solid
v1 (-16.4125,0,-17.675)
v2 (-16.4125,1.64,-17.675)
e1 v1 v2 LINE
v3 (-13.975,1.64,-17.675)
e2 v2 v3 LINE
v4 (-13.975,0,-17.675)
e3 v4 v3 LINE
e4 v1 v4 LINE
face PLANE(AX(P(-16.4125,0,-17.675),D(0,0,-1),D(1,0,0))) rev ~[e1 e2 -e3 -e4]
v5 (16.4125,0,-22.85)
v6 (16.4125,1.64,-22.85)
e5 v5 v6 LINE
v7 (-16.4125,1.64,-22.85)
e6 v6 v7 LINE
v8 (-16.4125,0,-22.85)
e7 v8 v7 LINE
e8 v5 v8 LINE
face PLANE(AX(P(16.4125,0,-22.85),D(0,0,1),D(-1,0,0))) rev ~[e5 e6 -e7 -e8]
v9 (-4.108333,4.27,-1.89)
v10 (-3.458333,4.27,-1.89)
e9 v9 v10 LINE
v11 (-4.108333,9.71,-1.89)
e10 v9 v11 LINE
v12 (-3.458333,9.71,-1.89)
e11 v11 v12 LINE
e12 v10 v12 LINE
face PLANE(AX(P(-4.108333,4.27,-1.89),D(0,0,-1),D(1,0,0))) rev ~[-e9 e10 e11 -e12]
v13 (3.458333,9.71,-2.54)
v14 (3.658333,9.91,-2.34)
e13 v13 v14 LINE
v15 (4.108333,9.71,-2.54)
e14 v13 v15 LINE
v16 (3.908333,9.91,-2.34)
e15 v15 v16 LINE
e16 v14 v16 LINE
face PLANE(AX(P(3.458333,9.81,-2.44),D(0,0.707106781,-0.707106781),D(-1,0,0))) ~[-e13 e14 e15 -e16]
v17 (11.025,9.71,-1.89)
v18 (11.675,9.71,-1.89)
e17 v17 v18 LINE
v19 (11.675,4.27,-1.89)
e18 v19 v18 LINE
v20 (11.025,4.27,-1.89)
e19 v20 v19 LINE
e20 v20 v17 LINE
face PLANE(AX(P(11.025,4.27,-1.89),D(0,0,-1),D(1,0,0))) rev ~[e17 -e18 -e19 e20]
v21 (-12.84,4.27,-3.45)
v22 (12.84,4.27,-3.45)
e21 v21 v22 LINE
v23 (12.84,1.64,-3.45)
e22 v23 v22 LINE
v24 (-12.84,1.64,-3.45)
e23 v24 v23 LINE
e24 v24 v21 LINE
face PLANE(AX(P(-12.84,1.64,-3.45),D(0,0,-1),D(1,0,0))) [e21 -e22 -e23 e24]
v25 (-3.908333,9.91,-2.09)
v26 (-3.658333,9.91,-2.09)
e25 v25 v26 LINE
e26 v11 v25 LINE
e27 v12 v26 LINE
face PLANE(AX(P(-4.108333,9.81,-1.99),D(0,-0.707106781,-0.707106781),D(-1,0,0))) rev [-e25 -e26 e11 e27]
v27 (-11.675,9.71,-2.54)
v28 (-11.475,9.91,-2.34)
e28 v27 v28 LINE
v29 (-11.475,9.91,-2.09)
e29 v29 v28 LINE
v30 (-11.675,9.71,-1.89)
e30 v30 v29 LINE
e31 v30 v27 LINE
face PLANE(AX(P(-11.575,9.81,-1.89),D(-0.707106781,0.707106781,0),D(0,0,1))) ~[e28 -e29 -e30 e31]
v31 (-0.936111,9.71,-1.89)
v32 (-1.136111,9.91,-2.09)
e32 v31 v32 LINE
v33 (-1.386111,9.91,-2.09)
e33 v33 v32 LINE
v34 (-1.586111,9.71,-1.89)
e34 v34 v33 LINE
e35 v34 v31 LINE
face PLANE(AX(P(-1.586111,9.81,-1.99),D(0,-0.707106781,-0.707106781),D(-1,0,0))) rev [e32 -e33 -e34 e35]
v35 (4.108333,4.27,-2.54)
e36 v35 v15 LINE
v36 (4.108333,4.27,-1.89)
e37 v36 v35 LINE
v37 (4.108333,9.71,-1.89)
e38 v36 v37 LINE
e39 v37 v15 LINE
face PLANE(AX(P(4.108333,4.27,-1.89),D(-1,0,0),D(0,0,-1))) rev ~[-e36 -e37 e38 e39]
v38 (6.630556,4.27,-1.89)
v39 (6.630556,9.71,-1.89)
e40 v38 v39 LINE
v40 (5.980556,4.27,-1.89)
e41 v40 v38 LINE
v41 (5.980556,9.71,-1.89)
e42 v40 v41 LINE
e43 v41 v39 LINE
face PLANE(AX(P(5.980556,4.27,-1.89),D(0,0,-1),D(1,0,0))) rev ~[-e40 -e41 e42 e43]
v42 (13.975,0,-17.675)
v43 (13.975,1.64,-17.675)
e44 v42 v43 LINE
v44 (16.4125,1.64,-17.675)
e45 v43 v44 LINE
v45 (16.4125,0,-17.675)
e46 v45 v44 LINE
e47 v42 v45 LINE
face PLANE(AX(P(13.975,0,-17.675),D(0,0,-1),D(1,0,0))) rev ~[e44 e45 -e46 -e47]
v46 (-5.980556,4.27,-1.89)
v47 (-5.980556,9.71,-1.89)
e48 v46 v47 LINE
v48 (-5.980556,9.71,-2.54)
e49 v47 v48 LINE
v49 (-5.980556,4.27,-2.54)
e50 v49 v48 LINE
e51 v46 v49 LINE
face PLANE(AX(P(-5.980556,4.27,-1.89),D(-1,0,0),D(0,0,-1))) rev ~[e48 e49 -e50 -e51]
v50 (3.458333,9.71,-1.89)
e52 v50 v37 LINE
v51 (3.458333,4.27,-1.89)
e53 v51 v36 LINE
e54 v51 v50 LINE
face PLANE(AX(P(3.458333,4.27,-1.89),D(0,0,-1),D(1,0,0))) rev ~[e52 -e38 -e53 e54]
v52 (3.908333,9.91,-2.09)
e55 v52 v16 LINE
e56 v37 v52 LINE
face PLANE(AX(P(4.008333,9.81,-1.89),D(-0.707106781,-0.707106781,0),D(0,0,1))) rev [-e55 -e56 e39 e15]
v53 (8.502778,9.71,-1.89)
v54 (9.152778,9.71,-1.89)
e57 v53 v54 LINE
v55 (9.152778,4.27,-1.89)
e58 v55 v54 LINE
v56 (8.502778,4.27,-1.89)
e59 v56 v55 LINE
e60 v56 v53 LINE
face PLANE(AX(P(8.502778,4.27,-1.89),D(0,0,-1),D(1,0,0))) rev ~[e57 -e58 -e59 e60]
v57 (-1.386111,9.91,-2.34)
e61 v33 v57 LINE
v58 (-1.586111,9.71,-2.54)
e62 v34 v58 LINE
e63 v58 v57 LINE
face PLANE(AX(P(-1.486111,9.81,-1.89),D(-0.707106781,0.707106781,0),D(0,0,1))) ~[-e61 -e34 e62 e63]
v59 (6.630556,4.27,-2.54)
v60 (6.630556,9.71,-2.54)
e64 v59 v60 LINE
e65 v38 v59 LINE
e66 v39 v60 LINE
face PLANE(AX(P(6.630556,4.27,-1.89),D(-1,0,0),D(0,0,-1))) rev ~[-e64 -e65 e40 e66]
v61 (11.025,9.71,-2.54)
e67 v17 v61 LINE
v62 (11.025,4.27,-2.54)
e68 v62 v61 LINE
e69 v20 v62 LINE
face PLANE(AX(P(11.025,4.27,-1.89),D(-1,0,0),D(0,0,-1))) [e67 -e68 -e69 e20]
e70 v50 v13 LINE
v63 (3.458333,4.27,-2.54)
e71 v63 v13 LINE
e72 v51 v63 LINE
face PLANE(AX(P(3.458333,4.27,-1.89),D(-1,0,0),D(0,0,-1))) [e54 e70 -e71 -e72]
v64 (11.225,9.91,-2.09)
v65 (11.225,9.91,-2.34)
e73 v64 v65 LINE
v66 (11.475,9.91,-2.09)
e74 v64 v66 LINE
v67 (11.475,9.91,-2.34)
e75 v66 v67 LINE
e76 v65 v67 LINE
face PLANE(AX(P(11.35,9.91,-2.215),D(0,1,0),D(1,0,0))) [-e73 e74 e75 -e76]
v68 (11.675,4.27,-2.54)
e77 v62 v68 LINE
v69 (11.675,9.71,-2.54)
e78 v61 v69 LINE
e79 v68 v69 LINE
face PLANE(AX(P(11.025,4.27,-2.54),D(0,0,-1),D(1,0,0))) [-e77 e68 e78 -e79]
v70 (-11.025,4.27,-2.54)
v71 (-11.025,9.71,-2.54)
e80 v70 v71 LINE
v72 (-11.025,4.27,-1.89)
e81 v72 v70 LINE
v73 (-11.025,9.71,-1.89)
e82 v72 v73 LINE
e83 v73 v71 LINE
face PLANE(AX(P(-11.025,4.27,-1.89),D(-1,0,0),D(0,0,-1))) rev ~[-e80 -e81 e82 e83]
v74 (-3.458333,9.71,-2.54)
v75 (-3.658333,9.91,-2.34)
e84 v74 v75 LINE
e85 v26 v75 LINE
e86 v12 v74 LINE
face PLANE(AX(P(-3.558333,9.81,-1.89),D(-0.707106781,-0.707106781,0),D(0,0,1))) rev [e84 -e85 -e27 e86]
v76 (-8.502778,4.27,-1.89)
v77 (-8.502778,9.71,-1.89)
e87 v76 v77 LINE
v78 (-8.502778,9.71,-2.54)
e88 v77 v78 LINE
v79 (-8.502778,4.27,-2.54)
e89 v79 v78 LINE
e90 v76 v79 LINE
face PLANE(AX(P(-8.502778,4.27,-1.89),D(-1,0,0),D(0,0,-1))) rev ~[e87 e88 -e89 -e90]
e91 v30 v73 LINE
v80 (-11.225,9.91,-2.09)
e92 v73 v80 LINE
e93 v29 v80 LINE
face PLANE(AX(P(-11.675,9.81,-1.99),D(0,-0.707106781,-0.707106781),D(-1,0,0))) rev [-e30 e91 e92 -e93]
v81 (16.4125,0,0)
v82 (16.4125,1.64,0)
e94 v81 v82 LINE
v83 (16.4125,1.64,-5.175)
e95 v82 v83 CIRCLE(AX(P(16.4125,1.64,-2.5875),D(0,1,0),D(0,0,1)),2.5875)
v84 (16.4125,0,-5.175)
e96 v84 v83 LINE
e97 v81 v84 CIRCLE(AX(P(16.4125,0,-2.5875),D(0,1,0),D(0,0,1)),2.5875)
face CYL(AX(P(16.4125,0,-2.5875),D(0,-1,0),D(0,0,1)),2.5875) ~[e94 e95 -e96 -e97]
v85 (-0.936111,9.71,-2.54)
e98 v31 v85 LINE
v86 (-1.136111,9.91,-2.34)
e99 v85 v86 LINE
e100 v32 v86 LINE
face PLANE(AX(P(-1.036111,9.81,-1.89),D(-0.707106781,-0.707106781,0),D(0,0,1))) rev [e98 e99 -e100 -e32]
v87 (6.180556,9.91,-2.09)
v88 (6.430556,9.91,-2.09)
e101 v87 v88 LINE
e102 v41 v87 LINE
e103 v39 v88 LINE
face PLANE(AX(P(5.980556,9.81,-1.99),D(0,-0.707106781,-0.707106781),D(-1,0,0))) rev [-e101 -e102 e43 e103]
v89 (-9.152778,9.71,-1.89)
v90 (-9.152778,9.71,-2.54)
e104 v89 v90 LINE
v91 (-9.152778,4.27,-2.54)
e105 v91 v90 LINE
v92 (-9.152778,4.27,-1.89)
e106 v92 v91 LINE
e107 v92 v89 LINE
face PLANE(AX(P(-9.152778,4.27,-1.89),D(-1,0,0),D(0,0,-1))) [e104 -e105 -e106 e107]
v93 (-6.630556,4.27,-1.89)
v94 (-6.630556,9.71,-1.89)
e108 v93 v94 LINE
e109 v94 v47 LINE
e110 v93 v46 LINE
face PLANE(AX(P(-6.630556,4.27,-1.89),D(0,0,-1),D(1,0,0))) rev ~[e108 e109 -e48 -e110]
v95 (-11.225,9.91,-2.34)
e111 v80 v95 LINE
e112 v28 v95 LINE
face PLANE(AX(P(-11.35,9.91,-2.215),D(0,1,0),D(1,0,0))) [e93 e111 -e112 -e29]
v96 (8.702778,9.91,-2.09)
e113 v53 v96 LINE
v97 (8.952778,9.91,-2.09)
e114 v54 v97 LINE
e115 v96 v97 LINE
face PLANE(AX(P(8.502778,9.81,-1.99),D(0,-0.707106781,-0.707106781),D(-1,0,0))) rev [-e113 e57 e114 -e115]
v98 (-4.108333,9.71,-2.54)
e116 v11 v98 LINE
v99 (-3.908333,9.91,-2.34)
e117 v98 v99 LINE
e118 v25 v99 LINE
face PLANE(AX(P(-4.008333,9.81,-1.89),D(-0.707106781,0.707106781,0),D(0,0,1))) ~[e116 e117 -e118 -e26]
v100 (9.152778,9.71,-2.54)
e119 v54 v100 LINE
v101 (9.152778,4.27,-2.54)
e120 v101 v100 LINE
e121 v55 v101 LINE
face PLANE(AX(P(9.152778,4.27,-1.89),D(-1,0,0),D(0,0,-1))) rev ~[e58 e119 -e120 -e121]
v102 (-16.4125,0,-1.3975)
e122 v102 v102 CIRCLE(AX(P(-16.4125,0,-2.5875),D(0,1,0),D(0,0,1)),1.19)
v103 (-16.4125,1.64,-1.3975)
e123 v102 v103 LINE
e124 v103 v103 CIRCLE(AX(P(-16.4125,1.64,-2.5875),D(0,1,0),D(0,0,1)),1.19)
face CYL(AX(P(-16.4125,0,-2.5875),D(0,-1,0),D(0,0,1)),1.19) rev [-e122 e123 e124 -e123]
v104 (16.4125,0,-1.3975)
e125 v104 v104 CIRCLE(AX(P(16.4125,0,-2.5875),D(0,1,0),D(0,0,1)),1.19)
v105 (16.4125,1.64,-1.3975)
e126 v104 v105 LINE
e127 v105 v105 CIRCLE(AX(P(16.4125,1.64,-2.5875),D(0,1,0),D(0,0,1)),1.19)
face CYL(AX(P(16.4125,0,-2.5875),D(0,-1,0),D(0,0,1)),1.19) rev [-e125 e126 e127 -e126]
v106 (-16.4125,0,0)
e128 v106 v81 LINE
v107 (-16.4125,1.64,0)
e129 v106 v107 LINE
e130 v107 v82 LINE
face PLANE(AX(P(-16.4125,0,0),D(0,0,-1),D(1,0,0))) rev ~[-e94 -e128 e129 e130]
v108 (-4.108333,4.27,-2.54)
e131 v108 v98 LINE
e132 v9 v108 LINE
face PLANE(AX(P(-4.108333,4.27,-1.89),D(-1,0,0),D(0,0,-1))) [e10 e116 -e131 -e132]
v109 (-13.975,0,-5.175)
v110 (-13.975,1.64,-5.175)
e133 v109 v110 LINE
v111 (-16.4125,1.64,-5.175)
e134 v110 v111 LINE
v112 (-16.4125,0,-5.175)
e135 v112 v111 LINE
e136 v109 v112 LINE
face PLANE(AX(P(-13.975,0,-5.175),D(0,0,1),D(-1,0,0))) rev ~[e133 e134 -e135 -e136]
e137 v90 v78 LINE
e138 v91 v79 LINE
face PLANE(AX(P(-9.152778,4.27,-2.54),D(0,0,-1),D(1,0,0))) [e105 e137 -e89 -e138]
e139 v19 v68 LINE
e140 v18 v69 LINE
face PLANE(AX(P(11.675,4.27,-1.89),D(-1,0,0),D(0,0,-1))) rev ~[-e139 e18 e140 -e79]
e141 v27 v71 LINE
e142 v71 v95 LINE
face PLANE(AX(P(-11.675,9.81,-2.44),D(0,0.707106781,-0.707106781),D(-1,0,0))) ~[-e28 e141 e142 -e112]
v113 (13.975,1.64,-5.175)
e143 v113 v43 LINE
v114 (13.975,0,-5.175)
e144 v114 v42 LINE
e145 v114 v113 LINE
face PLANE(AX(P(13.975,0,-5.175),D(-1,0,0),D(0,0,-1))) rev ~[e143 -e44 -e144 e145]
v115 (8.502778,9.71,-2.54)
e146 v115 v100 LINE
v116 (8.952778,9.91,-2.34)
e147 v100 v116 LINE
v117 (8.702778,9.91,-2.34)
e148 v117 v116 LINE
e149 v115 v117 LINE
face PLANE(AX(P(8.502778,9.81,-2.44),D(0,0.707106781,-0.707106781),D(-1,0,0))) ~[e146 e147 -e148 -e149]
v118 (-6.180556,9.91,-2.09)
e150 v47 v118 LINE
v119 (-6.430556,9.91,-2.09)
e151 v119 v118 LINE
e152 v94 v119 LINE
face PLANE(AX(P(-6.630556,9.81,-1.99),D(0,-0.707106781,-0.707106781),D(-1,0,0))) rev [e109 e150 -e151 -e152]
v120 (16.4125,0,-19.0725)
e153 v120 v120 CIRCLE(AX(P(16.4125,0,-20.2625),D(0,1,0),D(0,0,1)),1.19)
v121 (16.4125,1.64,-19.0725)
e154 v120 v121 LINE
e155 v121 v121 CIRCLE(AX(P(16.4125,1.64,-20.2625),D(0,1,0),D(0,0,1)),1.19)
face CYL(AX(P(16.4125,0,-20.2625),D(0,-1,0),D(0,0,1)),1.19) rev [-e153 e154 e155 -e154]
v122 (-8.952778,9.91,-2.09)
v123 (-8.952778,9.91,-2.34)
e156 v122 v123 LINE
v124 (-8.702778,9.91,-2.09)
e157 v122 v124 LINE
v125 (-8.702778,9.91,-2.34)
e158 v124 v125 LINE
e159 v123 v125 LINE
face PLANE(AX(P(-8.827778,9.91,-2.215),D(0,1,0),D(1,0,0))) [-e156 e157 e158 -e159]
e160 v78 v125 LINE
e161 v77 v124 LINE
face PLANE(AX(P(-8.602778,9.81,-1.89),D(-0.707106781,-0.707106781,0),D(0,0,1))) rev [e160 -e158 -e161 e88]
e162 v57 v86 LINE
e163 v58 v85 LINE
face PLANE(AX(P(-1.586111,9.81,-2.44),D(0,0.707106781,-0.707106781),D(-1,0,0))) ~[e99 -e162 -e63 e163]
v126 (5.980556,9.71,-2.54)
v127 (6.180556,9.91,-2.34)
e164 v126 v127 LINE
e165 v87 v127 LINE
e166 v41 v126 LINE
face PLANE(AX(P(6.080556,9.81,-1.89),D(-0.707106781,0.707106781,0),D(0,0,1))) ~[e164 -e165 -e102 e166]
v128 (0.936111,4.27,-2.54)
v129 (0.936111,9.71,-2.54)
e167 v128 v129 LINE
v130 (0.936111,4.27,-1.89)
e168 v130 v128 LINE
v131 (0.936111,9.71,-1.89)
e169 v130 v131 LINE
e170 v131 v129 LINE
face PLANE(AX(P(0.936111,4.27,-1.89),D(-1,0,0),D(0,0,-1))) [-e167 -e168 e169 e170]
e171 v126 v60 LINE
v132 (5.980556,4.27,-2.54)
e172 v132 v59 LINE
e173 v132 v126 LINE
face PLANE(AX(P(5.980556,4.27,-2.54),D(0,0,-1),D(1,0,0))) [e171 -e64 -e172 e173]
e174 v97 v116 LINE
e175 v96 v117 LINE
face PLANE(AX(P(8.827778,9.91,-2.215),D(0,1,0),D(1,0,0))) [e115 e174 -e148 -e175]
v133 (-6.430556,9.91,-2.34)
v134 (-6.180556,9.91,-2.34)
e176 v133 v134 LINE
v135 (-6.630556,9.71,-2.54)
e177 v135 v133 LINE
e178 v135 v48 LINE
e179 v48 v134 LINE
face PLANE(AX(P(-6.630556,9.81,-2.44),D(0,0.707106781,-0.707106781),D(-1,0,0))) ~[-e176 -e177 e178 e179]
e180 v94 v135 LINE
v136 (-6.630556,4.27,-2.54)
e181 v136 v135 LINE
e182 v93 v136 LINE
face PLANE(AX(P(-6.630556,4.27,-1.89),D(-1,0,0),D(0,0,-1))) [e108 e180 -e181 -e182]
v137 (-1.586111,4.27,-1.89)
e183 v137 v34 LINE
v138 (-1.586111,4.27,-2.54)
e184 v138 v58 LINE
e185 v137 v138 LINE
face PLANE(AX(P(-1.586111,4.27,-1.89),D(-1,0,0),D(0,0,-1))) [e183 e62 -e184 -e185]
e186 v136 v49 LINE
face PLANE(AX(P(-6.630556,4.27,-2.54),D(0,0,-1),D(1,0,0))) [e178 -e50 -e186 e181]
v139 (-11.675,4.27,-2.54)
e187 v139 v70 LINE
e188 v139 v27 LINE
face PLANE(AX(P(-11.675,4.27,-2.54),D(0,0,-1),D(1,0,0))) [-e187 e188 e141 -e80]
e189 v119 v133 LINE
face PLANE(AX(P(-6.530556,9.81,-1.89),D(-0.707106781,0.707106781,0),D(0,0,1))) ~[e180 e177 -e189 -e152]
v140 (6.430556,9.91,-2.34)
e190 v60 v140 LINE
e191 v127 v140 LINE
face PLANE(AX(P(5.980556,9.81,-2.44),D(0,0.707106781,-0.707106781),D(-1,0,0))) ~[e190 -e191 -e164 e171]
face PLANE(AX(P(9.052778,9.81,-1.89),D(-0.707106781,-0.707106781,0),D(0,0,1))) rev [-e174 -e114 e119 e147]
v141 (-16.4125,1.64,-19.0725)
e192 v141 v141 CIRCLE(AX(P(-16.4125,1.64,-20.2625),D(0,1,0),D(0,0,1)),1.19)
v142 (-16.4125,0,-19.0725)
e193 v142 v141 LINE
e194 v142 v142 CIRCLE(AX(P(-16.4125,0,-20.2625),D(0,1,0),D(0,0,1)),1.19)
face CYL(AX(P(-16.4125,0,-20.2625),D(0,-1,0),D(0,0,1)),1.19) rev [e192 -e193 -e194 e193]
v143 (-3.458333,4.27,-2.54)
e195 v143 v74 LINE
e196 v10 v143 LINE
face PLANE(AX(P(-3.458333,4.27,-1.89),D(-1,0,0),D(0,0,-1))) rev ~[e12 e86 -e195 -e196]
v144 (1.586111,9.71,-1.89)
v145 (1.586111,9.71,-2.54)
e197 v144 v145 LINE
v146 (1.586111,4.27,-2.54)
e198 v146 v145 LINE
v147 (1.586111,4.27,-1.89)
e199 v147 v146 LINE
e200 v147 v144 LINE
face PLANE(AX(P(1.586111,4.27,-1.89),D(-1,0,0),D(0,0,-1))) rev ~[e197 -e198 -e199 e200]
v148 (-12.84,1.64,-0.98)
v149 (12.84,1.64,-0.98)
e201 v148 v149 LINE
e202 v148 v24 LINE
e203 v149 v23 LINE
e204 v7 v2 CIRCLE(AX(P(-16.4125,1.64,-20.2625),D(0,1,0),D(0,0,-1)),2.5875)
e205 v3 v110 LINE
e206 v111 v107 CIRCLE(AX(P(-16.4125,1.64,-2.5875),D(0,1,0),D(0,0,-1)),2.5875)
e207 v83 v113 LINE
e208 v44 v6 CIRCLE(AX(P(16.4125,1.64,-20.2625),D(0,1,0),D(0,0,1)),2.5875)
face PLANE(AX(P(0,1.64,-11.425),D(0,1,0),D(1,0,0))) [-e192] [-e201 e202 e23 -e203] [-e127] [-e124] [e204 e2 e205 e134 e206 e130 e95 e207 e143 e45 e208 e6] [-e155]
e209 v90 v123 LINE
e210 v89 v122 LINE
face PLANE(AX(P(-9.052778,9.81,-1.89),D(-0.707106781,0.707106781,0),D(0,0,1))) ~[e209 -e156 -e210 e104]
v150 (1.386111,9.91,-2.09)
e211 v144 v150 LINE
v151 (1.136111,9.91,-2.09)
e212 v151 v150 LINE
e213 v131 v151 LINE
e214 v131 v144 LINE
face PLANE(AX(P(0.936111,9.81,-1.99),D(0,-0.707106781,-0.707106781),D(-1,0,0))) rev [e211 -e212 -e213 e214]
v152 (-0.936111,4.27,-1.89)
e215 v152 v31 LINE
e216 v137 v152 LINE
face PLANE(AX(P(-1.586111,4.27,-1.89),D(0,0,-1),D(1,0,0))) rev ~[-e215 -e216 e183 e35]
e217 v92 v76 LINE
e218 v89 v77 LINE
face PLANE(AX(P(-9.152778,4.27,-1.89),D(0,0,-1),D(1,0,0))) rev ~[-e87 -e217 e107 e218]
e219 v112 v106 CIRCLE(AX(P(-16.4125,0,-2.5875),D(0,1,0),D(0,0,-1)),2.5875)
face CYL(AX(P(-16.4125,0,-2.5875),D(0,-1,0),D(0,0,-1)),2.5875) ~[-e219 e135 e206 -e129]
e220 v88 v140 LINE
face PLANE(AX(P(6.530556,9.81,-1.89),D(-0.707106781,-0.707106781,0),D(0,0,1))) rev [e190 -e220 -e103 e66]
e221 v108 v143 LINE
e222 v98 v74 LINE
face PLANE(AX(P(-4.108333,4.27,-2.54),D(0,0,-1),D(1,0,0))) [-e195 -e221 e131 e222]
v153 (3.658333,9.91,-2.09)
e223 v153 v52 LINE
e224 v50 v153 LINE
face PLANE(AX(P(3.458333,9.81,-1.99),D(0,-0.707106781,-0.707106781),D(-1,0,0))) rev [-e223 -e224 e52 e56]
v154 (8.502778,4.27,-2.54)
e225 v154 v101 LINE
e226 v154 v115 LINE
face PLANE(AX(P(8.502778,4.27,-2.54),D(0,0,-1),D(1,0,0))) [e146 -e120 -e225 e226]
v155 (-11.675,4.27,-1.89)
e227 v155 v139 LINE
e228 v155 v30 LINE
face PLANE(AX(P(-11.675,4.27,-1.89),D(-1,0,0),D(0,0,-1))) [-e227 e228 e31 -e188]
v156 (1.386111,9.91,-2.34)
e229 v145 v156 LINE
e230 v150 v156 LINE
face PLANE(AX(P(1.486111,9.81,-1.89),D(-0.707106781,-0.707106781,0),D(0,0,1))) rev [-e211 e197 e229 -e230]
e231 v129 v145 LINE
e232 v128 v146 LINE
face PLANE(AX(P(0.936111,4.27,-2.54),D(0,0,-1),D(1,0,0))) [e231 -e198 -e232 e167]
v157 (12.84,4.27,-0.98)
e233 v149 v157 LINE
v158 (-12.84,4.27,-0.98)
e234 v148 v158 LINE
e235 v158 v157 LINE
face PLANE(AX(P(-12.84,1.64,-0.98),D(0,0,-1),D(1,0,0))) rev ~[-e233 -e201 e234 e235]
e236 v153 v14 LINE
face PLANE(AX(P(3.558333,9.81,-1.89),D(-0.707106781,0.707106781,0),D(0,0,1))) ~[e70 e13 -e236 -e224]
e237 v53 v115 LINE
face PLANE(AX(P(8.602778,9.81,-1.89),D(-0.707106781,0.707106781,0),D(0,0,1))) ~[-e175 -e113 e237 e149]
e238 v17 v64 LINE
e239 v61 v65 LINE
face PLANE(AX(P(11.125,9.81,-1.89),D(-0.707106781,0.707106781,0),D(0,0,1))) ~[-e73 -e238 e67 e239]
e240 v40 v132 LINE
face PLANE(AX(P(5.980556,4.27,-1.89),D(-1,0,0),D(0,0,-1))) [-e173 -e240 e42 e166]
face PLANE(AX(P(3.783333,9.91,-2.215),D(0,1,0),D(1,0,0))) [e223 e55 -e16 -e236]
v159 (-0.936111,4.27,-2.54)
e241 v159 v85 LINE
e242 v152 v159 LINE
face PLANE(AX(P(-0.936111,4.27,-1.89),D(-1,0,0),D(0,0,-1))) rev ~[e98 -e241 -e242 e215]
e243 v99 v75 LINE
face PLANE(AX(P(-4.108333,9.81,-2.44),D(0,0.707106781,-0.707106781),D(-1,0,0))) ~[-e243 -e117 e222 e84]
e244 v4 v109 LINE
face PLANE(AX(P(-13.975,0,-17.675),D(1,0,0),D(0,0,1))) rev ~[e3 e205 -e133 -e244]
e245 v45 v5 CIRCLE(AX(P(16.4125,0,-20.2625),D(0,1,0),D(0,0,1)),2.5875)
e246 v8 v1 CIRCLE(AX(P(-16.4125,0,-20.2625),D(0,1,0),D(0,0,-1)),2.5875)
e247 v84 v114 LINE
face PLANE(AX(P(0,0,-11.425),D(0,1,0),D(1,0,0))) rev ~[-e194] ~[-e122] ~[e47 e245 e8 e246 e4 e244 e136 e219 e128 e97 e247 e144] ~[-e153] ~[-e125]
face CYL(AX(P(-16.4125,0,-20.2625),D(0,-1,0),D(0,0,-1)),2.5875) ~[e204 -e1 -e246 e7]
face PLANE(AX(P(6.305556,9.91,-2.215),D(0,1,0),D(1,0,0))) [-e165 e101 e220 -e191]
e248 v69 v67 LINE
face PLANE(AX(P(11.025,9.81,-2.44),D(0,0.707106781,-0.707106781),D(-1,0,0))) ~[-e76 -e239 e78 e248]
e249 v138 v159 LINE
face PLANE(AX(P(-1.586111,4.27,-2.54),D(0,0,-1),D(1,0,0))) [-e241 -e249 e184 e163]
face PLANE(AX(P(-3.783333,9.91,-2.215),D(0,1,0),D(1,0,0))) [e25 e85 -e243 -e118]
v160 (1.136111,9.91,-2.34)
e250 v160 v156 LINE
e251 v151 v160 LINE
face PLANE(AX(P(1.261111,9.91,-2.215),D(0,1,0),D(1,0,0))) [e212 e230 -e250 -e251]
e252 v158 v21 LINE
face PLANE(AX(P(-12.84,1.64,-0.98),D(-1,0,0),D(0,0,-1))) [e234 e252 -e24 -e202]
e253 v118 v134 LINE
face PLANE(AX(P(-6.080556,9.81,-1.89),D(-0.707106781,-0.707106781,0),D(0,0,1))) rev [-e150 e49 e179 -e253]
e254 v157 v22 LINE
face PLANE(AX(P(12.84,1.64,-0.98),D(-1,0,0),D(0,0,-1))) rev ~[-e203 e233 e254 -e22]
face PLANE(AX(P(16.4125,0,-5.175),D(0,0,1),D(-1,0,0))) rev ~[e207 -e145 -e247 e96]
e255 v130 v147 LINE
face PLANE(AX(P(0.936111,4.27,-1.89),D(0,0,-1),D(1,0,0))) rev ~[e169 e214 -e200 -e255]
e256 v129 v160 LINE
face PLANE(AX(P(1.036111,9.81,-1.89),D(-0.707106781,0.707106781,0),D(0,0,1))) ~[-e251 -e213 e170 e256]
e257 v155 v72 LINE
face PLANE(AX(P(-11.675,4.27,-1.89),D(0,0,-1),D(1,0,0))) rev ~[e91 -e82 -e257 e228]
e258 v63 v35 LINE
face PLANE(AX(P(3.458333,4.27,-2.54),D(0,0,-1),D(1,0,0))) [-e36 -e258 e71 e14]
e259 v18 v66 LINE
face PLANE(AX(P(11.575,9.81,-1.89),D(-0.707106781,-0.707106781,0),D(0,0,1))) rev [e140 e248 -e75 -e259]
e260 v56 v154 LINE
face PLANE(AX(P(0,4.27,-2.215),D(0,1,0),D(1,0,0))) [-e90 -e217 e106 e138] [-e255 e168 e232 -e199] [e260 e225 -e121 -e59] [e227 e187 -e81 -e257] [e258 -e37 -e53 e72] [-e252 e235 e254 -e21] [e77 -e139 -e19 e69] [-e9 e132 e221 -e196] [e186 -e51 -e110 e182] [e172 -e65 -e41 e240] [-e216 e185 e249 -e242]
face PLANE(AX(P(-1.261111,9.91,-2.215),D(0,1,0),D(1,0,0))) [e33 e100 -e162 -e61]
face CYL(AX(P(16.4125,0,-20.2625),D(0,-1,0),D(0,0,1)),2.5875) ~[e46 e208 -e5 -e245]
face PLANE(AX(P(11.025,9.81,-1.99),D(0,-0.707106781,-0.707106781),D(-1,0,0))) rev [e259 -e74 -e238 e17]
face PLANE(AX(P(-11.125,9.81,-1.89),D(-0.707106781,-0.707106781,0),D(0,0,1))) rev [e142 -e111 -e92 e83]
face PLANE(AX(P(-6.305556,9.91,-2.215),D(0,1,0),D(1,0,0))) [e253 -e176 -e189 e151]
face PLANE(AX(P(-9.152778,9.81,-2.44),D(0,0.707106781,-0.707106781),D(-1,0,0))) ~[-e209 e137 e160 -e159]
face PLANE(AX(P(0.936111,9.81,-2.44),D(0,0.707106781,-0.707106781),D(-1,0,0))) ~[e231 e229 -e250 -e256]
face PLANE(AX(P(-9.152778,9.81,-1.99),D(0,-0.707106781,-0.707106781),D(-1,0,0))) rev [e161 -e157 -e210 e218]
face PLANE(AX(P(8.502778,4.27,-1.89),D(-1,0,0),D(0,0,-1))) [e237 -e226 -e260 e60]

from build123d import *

# Parameters (mm, degrees)
SKETCH1_R           = 1.19
BOSS_EXTRUDE1_DEPTH = 1.64
SKETCH2_W           = 25.68
SKETCH2_H           = 2.47
BOSS_EXTRUDE2_DEPTH = 2.63
SKETCH3_W           = 0.65
SKETCH3_H           = 0.65
BOSS_EXTRUDE3_DEPTH = 5.64
CHAMFER1_SIZE       = 0.2


with BuildPart() as part:
    # Sketch1 → Boss-Extrude1 (new body)
    with BuildSketch(Plane(origin=(0, 0, 0), x_dir=(1, 0, 0), z_dir=(0, 1, 0))):
        with BuildLine():
            Line((-16.4125, 0), (16.4125, 0))
            ThreePointArc((16.4125, 0), (19, 2.5875), (16.4125, 5.175))
            Line((16.4125, 5.175), (13.975, 5.175))
            Line((13.975, 5.175), (13.975, 17.675))
            Line((13.975, 17.675), (16.4125, 17.675))
            ThreePointArc((16.4125, 17.675), (19, 20.2625), (16.4125, 22.85))
            Line((16.4125, 22.85), (-16.4125, 22.85))
            ThreePointArc((-16.4125, 22.85), (-19, 20.2625), (-16.4125, 17.675))
            Line((-16.4125, 17.675), (-13.975, 17.675))
            Line((-13.975, 17.675), (-13.975, 5.175))
            Line((-13.975, 5.175), (-16.4125, 5.175))
            ThreePointArc((-16.4125, 5.175), (-19, 2.5875), (-16.4125, 0))
        make_face()
        with Locations(Location((16.4125, 20.2625, 0), (0, 0, 270))):
            Circle(SKETCH1_R, mode=Mode.SUBTRACT)
        with Locations(Location((-16.4125, 20.2625, 0), (0, 0, 270))):
            Circle(SKETCH1_R, mode=Mode.SUBTRACT)
        with Locations(Location((-16.4125, 2.5875, 0), (0, 0, 270))):
            Circle(SKETCH1_R, mode=Mode.SUBTRACT)
        with Locations(Location((16.4125, 2.5875, 0), (0, 0, 270))):
            Circle(SKETCH1_R, mode=Mode.SUBTRACT)
    extrude(amount=BOSS_EXTRUDE1_DEPTH)

    # Sketch2 → Boss-Extrude2 (add)
    with BuildSketch(Plane(origin=(0, 1.64, 0), x_dir=(1, 0, 0), z_dir=(0, 1, 0))):
        with Locations((0, 2.215)):
            Rectangle(SKETCH2_W, SKETCH2_H)
    extrude(amount=BOSS_EXTRUDE2_DEPTH)

    # Sketch3 → Boss-Extrude3 (add)
    with BuildSketch(Plane(origin=(0, 4.27, 0), x_dir=(1, 0, 0), z_dir=(0, 1, 0))):
        with Locations((11.35, 2.215)):
            Rectangle(SKETCH3_W, SKETCH3_H)
        with Locations((8.827777778, 2.215)):
            Rectangle(SKETCH3_W, SKETCH3_H)
        with Locations((6.305555556, 2.215)):
            Rectangle(SKETCH3_W, SKETCH3_H)
        with Locations((3.783333333, 2.215)):
            Rectangle(SKETCH3_W, SKETCH3_H)
        with Locations((1.261111111, 2.215)):
            Rectangle(SKETCH3_W, SKETCH3_H)
        with Locations((-1.261111111, 2.215)):
            Rectangle(SKETCH3_W, SKETCH3_H)
        with Locations((-3.783333333, 2.215)):
            Rectangle(SKETCH3_W, SKETCH3_H)
        with Locations((-6.305555556, 2.215)):
            Rectangle(SKETCH3_W, SKETCH3_H)
        with Locations((-8.827777778, 2.215)):
            Rectangle(SKETCH3_W, SKETCH3_H)
        with Locations((-11.35, 2.215)):
            Rectangle(SKETCH3_W, SKETCH3_H)
    extrude(amount=BOSS_EXTRUDE3_DEPTH)

    # Chamfer1
    chamfer1_edges = [part.edges().sort_by_distance(p)[0] for p in [
        (3.783333333, 9.91, -1.89),
        (4.108333333, 9.91, -2.215),
        (1.261111111, 9.91, -2.54),
        (0.936111111, 9.91, -2.215),
        (1.261111111, 9.91, -1.89),
        (1.586111111, 9.91, -2.215),
        (-1.261111111, 9.91, -2.54),
        (-1.586111111, 9.91, -2.215),
        (-1.261111111, 9.91, -1.89),
        (-0.936111111, 9.91, -2.215),
        (-3.783333333, 9.91, -2.54),
        (-4.108333333, 9.91, -2.215),
        (-3.783333333, 9.91, -1.89),
        (-3.458333333, 9.91, -2.215),
        (-6.305555556, 9.91, -2.54),
        (-6.630555556, 9.91, -2.215),
        (-6.305555556, 9.91, -1.89),
        (-5.980555556, 9.91, -2.215),
        (-8.827777778, 9.91, -2.54),
        (-9.152777778, 9.91, -2.215),
        (-8.827777778, 9.91, -1.89),
        (-8.502777778, 9.91, -2.215),
        (-11.35, 9.91, -2.54),
        (-11.675, 9.91, -2.215),
        (-11.35, 9.91, -1.89),
        (-11.025, 9.91, -2.215),
        (11.675, 9.91, -2.215),
        (11.35, 9.91, -2.54),
        (11.025, 9.91, -2.215),
        (11.35, 9.91, -1.89),
        (8.827777778, 9.91, -2.54),
        (8.502777778, 9.91, -2.215),
        (8.827777778, 9.91, -1.89),
        (9.152777778, 9.91, -2.215),
        (6.305555556, 9.91, -2.54),
        (5.980555556, 9.91, -2.215),
        (6.305555556, 9.91, -1.89),
        (6.630555556, 9.91, -2.215),
        (3.783333333, 9.91, -2.54),
        (3.458333333, 9.91, -2.215),
    ]]
    chamfer(chamfer1_edges, length=CHAMFER1_SIZE)


solid = part.part
